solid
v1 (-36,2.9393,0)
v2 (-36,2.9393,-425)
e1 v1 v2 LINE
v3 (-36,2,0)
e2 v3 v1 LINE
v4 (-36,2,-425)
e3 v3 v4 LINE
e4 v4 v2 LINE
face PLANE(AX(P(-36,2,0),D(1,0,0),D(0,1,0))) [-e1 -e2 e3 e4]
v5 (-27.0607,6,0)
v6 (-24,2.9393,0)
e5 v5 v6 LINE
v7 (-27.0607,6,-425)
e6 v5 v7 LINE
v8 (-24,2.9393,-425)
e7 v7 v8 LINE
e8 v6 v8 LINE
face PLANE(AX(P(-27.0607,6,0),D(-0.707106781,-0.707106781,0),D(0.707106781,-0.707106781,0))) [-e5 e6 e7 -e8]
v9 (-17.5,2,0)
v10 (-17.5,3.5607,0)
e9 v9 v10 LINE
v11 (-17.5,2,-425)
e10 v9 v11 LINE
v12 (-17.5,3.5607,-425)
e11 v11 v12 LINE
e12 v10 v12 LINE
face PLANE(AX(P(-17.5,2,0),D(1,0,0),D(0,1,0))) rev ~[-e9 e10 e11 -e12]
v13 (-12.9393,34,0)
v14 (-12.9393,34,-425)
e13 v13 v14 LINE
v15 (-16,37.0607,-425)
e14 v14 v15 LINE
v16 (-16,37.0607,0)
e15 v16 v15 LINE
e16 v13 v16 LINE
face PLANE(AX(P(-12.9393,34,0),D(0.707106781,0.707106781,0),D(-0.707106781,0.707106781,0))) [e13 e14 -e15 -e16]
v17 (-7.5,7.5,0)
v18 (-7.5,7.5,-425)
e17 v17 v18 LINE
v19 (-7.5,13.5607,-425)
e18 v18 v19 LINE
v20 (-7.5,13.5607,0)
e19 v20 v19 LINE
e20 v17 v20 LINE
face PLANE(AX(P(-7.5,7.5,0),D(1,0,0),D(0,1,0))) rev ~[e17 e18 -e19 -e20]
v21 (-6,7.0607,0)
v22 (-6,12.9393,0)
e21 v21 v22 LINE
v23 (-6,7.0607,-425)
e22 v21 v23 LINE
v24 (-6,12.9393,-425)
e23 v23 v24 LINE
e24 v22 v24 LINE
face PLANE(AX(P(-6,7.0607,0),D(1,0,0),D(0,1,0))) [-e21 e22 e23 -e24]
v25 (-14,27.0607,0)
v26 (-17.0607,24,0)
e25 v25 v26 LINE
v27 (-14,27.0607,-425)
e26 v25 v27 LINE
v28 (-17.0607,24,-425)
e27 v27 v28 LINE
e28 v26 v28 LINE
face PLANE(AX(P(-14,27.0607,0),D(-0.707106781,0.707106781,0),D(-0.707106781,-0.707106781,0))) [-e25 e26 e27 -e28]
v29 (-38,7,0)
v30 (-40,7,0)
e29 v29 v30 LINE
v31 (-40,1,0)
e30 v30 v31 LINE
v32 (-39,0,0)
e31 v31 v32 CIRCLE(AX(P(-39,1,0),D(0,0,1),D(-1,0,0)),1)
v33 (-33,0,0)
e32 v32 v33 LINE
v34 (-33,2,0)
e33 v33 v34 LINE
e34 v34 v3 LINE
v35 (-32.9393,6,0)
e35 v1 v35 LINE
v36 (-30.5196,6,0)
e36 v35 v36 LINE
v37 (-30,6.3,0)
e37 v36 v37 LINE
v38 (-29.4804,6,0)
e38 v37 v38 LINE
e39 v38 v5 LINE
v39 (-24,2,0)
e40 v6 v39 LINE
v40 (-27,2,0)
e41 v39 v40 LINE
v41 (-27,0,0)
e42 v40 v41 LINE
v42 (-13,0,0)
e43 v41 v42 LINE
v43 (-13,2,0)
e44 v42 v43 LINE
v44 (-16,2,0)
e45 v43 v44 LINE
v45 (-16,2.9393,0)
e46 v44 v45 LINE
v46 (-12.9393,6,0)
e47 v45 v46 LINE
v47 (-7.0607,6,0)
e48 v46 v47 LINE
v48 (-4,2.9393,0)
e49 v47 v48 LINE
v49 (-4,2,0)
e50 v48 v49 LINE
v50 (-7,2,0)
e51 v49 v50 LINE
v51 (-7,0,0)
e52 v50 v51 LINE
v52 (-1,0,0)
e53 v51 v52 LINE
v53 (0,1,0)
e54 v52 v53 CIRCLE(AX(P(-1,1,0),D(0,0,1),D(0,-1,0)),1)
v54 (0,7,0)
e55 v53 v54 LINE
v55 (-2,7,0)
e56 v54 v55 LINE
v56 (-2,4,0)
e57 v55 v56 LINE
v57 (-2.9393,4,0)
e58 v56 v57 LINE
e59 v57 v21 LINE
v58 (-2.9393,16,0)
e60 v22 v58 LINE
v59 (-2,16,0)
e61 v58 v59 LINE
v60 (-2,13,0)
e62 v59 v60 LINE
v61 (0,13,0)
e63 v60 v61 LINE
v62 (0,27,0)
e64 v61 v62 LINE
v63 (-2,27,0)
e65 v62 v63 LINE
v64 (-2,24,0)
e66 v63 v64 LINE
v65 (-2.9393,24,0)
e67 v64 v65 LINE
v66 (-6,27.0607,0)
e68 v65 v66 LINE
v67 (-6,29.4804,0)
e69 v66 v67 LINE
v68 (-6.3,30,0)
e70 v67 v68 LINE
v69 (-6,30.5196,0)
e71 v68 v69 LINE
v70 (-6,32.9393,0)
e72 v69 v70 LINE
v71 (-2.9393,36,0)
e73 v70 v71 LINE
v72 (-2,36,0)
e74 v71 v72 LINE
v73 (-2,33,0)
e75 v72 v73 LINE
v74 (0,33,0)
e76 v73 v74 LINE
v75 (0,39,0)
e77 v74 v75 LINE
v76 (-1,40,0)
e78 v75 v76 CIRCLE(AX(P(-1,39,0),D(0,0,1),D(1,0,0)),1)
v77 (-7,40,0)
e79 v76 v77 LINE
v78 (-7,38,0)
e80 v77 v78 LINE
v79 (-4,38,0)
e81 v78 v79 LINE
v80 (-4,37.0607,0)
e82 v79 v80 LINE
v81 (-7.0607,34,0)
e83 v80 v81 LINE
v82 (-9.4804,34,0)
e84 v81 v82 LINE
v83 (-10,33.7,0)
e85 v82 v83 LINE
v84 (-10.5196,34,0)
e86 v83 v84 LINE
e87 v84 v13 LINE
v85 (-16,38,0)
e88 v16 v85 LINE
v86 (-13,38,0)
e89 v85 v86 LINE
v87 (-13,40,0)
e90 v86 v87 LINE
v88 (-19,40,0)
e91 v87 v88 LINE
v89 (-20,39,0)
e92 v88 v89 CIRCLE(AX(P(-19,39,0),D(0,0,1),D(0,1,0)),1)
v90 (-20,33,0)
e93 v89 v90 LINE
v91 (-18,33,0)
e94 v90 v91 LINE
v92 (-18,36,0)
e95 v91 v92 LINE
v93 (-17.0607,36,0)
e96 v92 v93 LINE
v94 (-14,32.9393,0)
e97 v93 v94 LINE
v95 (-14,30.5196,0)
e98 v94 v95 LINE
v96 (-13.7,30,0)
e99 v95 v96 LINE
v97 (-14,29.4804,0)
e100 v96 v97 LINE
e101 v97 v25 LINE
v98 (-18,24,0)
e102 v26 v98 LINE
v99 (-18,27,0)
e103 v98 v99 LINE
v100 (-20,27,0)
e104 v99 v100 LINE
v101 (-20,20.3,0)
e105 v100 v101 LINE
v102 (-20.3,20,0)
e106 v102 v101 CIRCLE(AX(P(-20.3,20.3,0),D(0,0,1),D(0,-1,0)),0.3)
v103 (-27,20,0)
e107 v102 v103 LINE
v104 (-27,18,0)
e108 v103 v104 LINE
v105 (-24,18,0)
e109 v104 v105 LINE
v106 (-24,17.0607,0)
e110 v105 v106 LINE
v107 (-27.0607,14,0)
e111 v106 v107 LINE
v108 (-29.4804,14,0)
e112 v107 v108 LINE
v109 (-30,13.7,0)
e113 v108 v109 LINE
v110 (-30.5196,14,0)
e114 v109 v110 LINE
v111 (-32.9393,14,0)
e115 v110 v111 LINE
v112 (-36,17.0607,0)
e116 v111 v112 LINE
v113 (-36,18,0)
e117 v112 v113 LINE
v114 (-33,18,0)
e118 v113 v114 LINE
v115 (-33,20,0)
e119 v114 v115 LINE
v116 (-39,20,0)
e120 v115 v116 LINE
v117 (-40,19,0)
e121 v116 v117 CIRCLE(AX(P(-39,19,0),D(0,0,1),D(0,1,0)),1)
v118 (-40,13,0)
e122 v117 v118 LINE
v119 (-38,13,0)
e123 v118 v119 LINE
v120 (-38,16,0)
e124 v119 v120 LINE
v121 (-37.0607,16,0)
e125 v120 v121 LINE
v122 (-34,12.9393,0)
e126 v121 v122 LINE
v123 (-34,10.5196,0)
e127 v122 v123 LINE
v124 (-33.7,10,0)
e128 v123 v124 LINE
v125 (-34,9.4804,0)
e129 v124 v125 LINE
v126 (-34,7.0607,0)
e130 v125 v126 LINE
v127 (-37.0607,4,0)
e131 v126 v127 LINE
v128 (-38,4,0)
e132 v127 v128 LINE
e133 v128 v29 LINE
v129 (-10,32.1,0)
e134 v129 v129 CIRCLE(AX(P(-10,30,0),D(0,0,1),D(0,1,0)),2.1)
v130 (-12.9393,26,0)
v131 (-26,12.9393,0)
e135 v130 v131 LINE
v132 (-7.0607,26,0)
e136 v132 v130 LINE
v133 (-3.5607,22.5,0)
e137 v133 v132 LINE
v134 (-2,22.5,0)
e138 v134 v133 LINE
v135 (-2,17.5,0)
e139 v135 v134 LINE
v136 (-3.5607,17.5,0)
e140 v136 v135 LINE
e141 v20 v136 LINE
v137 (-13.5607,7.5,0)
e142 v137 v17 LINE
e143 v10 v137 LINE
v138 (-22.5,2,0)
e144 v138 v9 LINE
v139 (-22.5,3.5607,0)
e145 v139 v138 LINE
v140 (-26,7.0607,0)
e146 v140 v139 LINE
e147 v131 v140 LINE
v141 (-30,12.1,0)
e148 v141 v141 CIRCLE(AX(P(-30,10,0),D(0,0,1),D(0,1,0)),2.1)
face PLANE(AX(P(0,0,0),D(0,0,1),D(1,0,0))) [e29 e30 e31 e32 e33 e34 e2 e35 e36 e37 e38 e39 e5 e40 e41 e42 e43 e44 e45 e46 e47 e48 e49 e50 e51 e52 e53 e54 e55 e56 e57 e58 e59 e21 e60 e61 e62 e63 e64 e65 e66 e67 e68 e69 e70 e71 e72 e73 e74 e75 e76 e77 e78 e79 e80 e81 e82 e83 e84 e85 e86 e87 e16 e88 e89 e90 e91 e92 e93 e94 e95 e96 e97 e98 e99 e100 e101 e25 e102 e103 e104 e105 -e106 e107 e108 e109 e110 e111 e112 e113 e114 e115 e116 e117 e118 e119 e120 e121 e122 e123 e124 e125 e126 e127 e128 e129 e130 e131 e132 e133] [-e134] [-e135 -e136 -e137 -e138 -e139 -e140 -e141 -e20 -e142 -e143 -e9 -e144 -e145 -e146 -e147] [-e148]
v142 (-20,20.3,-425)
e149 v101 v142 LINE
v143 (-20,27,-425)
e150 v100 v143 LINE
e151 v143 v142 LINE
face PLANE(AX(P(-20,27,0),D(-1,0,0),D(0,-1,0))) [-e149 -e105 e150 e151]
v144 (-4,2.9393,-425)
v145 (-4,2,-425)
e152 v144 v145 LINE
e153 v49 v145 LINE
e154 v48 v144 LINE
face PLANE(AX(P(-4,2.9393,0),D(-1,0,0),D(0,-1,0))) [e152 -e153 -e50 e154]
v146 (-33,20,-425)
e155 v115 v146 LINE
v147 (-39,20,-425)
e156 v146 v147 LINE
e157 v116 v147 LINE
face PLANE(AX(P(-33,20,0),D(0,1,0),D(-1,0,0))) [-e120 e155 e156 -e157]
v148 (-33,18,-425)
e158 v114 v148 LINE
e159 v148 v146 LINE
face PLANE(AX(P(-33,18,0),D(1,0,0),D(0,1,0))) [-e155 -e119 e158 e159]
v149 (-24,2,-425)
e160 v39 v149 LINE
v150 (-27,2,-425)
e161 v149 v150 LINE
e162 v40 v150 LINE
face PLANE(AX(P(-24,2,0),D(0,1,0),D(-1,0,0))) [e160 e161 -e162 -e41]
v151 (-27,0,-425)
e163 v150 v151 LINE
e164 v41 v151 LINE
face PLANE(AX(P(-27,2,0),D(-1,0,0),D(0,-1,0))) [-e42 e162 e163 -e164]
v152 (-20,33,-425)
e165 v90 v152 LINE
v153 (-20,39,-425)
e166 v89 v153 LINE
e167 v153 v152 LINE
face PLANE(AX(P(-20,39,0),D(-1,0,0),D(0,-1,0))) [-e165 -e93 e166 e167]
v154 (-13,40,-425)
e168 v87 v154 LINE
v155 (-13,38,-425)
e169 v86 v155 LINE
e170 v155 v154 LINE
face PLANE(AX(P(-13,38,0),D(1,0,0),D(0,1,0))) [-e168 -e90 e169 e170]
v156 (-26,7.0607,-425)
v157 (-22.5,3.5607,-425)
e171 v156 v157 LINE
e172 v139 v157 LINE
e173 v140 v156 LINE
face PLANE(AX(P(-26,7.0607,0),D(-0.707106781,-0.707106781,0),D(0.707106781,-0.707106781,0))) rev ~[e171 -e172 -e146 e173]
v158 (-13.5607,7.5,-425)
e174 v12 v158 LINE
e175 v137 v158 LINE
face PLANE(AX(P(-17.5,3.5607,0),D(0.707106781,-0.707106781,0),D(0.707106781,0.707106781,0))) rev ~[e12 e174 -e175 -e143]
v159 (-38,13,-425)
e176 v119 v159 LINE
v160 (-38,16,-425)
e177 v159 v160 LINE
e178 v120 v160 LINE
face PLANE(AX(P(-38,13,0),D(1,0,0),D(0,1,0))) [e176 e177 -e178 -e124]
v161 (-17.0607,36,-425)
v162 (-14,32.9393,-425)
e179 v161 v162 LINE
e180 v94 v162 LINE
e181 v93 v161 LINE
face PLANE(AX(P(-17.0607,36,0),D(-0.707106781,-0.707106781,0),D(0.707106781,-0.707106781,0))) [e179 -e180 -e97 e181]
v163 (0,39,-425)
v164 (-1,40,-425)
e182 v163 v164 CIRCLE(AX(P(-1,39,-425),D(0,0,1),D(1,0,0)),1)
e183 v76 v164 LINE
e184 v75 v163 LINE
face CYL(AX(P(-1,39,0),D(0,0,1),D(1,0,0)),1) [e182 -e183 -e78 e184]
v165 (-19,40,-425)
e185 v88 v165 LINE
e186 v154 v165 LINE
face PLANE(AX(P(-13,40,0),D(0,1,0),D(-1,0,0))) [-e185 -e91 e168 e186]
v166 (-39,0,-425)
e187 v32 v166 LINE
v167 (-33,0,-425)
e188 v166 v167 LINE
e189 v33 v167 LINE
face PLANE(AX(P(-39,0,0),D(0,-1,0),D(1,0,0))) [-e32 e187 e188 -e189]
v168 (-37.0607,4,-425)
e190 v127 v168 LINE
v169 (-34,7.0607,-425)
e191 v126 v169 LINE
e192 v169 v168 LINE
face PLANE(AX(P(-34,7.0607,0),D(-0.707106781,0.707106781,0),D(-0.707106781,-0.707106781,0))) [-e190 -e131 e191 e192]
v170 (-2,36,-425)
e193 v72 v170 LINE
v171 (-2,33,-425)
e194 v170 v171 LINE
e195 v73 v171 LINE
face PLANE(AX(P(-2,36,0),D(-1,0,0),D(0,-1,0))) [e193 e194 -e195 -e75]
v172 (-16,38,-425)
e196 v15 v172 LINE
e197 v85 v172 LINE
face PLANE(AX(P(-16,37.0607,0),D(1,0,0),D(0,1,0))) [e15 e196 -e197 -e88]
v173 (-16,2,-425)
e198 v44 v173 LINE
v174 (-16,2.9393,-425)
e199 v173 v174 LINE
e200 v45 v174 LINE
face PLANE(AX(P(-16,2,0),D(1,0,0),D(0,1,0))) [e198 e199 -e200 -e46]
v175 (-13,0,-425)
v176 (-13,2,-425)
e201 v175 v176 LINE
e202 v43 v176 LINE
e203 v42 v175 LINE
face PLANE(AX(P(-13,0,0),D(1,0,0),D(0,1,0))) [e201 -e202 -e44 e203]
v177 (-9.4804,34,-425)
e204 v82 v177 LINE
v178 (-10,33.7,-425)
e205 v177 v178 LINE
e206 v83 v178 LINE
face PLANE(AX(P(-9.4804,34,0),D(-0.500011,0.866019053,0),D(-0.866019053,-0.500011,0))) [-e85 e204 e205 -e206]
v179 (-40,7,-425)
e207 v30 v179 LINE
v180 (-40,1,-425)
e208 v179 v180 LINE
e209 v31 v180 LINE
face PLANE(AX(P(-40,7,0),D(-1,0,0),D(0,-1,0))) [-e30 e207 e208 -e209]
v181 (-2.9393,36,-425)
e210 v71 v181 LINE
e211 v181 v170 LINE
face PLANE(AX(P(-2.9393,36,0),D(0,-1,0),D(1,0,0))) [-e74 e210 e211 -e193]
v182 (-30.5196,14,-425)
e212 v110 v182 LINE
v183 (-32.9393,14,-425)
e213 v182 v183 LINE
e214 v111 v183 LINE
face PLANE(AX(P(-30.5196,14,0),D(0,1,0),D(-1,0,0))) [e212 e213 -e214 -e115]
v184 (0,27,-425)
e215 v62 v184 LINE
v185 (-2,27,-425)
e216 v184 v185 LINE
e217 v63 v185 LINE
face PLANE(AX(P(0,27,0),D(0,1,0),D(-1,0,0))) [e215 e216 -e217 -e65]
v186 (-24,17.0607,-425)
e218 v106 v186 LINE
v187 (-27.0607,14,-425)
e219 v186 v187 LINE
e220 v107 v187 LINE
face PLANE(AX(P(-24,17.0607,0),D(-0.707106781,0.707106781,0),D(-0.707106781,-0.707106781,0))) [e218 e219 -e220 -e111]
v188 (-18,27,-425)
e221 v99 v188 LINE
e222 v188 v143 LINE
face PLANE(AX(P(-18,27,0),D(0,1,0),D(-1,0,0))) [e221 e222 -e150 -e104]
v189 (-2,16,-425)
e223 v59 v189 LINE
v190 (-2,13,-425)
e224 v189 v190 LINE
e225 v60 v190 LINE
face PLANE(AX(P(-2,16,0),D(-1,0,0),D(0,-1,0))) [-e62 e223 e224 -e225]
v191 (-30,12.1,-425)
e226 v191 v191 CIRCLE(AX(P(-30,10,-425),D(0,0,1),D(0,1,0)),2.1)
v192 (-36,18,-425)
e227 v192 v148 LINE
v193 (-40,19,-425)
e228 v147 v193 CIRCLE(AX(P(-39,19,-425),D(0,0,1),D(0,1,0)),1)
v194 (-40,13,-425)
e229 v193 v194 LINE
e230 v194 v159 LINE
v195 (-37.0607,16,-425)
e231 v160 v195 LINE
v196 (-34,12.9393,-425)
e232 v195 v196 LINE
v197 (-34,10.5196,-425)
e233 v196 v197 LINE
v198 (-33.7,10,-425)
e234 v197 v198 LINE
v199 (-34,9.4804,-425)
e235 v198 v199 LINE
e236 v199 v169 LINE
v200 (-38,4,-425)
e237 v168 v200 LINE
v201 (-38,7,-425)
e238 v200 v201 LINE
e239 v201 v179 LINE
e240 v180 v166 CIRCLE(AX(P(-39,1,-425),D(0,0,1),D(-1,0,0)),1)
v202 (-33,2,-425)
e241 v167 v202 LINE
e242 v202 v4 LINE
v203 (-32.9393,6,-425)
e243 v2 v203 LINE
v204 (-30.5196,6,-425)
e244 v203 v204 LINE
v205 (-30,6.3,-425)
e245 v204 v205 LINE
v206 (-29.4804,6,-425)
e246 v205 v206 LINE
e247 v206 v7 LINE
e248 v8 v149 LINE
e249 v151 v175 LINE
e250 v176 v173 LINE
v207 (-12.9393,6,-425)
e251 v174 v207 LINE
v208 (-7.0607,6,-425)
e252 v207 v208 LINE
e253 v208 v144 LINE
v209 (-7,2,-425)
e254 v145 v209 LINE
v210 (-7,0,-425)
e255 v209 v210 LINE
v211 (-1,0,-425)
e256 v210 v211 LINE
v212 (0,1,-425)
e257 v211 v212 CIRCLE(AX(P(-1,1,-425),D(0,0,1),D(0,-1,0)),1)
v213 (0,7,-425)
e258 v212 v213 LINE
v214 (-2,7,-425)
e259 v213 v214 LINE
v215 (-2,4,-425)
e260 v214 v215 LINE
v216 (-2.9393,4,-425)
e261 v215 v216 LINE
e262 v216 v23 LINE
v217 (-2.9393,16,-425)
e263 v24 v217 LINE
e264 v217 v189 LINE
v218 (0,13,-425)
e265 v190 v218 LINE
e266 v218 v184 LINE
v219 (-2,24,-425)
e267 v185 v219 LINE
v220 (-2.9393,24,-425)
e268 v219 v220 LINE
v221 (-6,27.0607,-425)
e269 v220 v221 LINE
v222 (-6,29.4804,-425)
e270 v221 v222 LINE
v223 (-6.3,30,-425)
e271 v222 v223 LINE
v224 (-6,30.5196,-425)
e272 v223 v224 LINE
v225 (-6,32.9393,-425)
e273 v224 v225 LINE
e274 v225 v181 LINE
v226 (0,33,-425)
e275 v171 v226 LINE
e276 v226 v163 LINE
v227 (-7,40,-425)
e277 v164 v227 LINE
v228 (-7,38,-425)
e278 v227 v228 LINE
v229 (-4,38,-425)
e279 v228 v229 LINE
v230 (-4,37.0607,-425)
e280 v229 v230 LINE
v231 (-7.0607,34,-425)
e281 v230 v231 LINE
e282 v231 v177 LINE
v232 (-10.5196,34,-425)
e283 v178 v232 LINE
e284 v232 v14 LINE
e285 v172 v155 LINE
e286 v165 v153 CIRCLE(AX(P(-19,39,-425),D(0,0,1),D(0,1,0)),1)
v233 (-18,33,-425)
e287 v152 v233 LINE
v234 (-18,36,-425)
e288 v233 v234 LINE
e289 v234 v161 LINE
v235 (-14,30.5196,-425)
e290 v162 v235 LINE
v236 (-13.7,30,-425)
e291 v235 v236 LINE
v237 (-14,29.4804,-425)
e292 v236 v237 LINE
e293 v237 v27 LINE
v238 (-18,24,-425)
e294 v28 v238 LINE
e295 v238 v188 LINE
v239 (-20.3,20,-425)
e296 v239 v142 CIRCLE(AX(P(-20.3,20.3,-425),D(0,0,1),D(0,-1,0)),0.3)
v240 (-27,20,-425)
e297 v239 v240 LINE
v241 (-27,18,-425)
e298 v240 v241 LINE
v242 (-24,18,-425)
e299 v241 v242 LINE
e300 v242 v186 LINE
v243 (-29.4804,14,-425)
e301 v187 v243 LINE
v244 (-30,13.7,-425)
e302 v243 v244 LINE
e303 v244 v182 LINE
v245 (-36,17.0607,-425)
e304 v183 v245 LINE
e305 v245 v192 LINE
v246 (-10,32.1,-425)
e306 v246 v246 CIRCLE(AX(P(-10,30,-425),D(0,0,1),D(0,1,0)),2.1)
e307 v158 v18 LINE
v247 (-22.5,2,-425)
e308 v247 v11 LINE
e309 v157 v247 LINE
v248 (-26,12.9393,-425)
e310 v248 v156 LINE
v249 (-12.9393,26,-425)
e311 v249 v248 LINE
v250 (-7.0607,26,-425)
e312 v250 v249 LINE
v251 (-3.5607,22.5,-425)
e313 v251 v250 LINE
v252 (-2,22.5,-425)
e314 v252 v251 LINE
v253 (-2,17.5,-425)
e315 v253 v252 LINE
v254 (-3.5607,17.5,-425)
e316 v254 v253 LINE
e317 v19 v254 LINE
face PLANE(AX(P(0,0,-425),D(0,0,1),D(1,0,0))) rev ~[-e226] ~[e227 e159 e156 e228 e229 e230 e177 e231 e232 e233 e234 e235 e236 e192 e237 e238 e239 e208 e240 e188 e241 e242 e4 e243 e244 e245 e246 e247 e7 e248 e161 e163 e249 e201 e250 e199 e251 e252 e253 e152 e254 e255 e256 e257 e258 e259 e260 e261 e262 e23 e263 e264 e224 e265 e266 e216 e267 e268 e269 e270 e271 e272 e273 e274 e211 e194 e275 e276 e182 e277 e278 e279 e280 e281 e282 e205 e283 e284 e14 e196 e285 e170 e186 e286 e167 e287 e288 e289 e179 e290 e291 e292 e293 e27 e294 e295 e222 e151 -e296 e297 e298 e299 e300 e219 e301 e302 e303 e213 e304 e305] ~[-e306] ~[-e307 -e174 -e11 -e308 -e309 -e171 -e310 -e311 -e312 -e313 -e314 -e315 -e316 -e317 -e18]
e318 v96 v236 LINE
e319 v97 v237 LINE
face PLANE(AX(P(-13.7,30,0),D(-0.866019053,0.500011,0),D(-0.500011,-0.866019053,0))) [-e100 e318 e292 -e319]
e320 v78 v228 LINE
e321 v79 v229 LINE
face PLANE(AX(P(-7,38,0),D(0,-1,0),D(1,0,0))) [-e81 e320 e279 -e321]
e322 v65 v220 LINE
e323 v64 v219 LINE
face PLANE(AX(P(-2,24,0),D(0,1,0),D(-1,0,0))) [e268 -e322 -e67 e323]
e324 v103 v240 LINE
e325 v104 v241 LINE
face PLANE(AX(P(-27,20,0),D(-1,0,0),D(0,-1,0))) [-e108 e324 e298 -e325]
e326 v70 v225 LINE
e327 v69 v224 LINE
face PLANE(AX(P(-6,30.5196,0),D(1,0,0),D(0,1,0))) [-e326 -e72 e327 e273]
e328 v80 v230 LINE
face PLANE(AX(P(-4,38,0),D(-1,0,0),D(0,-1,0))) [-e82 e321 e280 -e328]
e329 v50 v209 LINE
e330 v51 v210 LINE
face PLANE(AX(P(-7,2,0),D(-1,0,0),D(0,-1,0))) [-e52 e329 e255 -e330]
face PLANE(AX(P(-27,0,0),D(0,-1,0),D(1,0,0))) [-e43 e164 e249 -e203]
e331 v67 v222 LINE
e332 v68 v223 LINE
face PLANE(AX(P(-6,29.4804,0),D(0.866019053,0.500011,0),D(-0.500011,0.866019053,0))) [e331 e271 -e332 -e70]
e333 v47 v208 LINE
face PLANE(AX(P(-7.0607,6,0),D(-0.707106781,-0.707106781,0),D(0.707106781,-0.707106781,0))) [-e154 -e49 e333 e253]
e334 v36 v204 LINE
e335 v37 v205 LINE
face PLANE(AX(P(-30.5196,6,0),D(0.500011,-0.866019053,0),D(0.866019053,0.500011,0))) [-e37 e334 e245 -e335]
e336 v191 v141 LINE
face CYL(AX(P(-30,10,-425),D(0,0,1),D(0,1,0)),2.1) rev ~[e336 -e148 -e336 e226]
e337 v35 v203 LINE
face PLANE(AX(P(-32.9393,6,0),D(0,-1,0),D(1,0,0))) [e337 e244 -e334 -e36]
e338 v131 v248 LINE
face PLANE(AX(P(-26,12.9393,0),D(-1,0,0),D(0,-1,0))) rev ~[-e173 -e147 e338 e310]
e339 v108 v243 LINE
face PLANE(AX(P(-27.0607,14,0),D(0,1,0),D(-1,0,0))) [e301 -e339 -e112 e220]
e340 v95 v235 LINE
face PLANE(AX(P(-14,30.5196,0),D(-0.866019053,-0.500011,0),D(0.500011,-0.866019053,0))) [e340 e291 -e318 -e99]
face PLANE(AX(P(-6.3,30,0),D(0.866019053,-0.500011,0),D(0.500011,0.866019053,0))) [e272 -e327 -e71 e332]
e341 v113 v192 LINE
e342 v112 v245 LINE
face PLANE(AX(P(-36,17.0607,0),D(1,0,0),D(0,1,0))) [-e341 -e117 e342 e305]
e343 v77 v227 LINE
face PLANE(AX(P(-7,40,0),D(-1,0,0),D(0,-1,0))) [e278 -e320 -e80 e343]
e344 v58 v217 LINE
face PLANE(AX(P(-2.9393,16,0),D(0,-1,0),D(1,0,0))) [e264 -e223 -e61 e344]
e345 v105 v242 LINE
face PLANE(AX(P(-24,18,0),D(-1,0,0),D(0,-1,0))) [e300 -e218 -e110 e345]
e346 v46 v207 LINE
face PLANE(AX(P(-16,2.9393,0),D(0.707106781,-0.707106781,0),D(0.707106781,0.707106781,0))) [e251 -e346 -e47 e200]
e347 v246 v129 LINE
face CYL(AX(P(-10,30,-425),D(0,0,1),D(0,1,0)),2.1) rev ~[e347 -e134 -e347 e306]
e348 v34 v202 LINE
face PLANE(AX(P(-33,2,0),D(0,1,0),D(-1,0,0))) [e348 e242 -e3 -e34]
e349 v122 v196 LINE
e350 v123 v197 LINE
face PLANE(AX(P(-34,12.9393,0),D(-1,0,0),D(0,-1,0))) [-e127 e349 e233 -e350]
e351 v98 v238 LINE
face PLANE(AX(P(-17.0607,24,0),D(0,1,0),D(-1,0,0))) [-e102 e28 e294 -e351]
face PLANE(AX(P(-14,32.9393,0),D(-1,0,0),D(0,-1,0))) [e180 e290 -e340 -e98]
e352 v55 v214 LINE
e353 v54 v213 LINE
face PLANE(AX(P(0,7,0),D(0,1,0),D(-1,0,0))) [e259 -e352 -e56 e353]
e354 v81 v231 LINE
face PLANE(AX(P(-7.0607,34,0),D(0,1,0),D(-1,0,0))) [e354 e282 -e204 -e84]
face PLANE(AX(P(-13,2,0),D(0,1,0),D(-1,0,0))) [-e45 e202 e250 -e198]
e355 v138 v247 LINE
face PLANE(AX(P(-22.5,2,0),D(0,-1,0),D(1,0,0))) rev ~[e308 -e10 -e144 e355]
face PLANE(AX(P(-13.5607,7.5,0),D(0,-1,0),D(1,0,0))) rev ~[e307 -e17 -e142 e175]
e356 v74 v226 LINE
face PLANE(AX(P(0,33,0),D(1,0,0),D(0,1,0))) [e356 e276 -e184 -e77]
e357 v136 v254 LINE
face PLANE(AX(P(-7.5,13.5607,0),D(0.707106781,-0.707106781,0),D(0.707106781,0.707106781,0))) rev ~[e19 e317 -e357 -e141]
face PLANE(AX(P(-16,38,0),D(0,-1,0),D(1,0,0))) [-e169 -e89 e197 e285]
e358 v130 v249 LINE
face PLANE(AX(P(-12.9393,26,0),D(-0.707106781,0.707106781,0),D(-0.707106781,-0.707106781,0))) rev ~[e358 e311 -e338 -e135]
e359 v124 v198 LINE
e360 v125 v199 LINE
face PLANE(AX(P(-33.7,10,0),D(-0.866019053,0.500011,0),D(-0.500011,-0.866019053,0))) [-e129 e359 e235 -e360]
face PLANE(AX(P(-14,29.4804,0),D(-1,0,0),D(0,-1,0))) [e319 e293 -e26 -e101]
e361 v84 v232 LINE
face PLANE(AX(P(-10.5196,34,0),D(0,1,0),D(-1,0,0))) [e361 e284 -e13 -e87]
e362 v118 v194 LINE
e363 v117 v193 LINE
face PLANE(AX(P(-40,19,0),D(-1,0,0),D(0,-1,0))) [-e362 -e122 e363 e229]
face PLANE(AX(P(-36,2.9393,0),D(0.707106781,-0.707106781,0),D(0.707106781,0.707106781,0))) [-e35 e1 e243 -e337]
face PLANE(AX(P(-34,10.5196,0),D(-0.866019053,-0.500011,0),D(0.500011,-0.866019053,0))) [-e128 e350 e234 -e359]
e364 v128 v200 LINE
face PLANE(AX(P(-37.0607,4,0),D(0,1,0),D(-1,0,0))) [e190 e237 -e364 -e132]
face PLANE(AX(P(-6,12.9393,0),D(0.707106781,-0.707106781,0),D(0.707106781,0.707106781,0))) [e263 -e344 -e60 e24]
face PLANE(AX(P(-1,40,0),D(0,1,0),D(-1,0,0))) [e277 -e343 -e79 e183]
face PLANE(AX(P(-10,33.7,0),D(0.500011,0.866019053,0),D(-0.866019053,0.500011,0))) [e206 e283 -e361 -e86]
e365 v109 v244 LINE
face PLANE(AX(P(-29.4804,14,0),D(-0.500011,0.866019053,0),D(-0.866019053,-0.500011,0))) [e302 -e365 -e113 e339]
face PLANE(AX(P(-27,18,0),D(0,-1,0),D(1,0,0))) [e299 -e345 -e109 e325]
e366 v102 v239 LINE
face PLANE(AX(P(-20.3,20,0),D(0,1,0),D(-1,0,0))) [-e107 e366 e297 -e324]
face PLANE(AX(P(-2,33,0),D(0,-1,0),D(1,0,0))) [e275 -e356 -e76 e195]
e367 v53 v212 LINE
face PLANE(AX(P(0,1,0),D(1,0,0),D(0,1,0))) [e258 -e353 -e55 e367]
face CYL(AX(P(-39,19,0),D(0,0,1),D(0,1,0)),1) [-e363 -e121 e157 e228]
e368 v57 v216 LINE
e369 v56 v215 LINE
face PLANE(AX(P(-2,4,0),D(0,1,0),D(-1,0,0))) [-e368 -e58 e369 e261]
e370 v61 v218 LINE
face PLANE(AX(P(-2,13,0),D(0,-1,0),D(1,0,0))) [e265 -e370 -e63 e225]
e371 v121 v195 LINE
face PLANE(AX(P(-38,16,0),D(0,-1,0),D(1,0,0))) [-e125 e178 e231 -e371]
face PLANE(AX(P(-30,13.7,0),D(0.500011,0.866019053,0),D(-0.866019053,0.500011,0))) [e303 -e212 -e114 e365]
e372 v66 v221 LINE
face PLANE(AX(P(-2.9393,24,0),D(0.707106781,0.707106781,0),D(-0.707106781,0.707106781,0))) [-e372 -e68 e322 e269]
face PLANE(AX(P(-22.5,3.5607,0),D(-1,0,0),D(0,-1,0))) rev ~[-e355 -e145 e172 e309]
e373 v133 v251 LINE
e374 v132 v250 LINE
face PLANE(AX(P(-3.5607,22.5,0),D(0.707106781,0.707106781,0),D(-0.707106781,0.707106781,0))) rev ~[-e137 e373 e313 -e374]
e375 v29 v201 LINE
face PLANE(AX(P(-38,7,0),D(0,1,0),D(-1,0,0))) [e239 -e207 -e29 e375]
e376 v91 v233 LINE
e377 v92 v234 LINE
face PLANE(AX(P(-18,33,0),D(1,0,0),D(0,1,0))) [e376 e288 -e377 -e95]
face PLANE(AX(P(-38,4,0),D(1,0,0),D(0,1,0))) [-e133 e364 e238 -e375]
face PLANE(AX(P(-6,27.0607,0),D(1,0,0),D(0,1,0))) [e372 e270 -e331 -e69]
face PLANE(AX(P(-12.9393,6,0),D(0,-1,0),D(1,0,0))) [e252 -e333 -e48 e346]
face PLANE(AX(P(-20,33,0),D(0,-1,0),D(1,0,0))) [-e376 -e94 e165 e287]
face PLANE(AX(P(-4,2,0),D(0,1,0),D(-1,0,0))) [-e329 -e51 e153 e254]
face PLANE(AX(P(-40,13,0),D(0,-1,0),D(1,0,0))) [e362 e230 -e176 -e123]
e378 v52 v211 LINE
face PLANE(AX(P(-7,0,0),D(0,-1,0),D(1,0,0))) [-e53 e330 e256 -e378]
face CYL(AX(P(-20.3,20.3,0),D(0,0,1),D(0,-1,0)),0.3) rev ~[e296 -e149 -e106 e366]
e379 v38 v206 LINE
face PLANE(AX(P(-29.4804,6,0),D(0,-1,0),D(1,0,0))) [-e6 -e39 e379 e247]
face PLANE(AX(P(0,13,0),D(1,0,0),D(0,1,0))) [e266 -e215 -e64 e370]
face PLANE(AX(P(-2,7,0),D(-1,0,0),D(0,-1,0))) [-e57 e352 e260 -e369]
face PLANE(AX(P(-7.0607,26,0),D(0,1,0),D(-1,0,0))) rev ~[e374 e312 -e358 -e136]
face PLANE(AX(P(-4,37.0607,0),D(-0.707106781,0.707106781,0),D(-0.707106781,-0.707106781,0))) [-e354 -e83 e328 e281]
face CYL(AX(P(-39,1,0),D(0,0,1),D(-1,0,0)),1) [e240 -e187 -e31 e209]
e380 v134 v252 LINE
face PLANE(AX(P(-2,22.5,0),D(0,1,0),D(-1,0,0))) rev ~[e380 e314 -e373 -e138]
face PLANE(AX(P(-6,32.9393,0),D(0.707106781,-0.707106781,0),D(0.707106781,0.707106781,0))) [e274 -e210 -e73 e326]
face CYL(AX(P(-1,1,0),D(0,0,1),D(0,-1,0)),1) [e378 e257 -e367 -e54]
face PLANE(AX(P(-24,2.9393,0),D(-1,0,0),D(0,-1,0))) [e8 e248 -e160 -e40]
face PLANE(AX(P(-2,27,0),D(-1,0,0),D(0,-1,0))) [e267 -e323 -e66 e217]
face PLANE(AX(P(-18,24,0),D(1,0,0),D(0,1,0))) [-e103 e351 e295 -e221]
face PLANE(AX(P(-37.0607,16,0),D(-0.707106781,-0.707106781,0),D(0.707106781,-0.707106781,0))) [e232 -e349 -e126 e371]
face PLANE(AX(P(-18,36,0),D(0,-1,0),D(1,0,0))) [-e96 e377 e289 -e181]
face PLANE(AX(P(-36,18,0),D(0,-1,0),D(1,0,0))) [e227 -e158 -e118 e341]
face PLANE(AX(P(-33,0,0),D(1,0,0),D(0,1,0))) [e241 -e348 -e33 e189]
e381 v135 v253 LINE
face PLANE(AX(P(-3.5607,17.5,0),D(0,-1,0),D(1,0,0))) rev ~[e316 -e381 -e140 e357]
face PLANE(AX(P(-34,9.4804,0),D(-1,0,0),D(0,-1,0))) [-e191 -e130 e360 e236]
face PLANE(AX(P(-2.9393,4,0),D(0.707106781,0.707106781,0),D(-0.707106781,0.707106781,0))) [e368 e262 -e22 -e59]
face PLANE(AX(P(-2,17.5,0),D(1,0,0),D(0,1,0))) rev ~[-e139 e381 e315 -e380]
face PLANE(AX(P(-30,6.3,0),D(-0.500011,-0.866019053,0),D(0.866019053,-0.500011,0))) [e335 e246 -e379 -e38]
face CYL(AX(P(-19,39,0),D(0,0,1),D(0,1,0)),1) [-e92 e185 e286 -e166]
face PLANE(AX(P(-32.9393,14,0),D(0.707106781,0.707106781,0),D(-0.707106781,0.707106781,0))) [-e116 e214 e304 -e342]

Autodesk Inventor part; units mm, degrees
ref_plane "YZ Plane" through (0, 0, 0) normal (1, 0, 0) x (0, 1, 0)
ref_plane "XZ Plane" through (0, 0, 0) normal (0, 1, 0) x (-1, 0, 0)
ref_plane "XY Plane" through (0, 0, 0) normal (0, 0, 1) x (1, 0, 0)
sketch "Sketch_1" plane through (0, 0, 0) normal (0, 0, 1) x (1, 0, 0)
  line L0 (-40, 19) -> (-40, 13)
  line L1 (-40, 13) -> (-38, 13)
  line L2 (-38, 13) -> (-38, 16)
  line L3 (-38, 16) -> (-37.0607, 16)
  line L4 (-37.0607, 16) -> (-34, 12.9393)
  line L5 (-34, 12.9393) -> (-34, 10.5196)
  line L6 (-34, 10.5196) -> (-33.7, 10)
  line L7 (-33.7, 10) -> (-34, 9.4804)
  line L8 (-34, 9.4804) -> (-34, 7.0607)
  line L9 (-34, 7.0607) -> (-37.0607, 4)
  line L10 (-37.0607, 4) -> (-38, 4)
  line L11 (-38, 4) -> (-38, 7)
  line L12 (-38, 7) -> (-40, 7)
  line L13 (-40, 7) -> (-40, 1)
  arc A0 (-40, 1) -> (-39, 0) centre (-39, 1) ccw
  line L14 (-39, 0) -> (-33, 0)
  line L15 (-33, 0) -> (-33, 2)
  line L16 (-33, 2) -> (-36, 2)
  line L17 (-36, 2) -> (-36, 2.9393)
  line L18 (-36, 2.9393) -> (-32.9393, 6)
  line L19 (-32.9393, 6) -> (-30.5196, 6)
  line L20 (-30.5196, 6) -> (-30, 6.3)
  line L21 (-30, 6.3) -> (-29.4804, 6)
  line L22 (-29.4804, 6) -> (-27.0607, 6)
  line L23 (-27.0607, 6) -> (-24, 2.9393)
  line L24 (-24, 2.9393) -> (-24, 2)
  line L25 (-24, 2) -> (-27, 2)
  line L26 (-27, 2) -> (-27, 0)
  line L27 (-27, 0) -> (-13, 0)
  line L28 (-13, 0) -> (-13, 2)
  line L29 (-13, 2) -> (-16, 2)
  line L30 (-16, 2) -> (-16, 2.9393)
  line L31 (-16, 2.9393) -> (-12.9393, 6)
  line L32 (-12.9393, 6) -> (-7.0607, 6)
  line L33 (-7.0607, 6) -> (-4, 2.9393)
  line L34 (-4, 2.9393) -> (-4, 2)
  line L35 (-4, 2) -> (-7, 2)
  line L36 (-7, 2) -> (-7, 0)
  line L37 (-7, 0) -> (-1, 0)
  arc A1 (-1, 0) -> (0, 1) centre (-1, 1) ccw
  line L38 (0, 1) -> (0, 7)
  line L39 (0, 7) -> (-2, 7)
  line L40 (-2, 7) -> (-2, 4)
  line L41 (-2, 4) -> (-2.9393, 4)
  line L42 (-2.9393, 4) -> (-6, 7.0607)
  line L43 (-6, 7.0607) -> (-6, 12.9393)
  line L44 (-6, 12.9393) -> (-2.9393, 16)
  line L45 (-2.9393, 16) -> (-2, 16)
  line L46 (-2, 16) -> (-2, 13)
  line L47 (-2, 13) -> (0, 13)
  line L48 (0, 13) -> (0, 27)
  line L49 (0, 27) -> (-2, 27)
  line L50 (-2, 27) -> (-2, 24)
  line L51 (-2, 24) -> (-2.9393, 24)
  line L52 (-2.9393, 24) -> (-6, 27.0607)
  line L53 (-6, 27.0607) -> (-6, 29.4804)
  line L54 (-6, 29.4804) -> (-6.3, 30)
  line L55 (-6.3, 30) -> (-6, 30.5196)
  line L56 (-6, 30.5196) -> (-6, 32.9393)
  line L57 (-6, 32.9393) -> (-2.9393, 36)
  line L58 (-2.9393, 36) -> (-2, 36)
  line L59 (-2, 36) -> (-2, 33)
  line L60 (-2, 33) -> (0, 33)
  line L61 (0, 33) -> (0, 39)
  arc A2 (0, 39) -> (-1, 40) centre (-1, 39) ccw
  line L62 (-1, 40) -> (-7, 40)
  line L63 (-7, 40) -> (-7, 38)
  line L64 (-7, 38) -> (-4, 38)
  line L65 (-4, 38) -> (-4, 37.0607)
  line L66 (-4, 37.0607) -> (-7.0607, 34)
  line L67 (-7.0607, 34) -> (-9.4804, 34)
  line L68 (-9.4804, 34) -> (-10, 33.7)
  line L69 (-10, 33.7) -> (-10.5196, 34)
  line L70 (-10.5196, 34) -> (-12.9393, 34)
  line L71 (-12.9393, 34) -> (-16, 37.0607)
  line L72 (-16, 37.0607) -> (-16, 38)
  line L73 (-16, 38) -> (-13, 38)
  line L74 (-13, 38) -> (-13, 40)
  line L75 (-13, 40) -> (-19, 40)
  arc A3 (-19, 40) -> (-20, 39) centre (-19, 39) ccw
  line L76 (-20, 39) -> (-20, 33)
  line L77 (-20, 33) -> (-18, 33)
  line L78 (-18, 33) -> (-18, 36)
  line L79 (-18, 36) -> (-17.0607, 36)
  line L80 (-17.0607, 36) -> (-14, 32.9393)
  line L81 (-14, 32.9393) -> (-14, 30.5196)
  line L82 (-14, 30.5196) -> (-13.7, 30)
  line L83 (-13.7, 30) -> (-14, 29.4804)
  line L84 (-14, 29.4804) -> (-14, 27.0607)
  line L85 (-14, 27.0607) -> (-17.0607, 24)
  line L86 (-17.0607, 24) -> (-18, 24)
  line L87 (-18, 24) -> (-18, 27)
  line L88 (-18, 27) -> (-20, 27)
  line L89 (-20, 27) -> (-20, 20.3)
  arc A4 (-20.3, 20) -> (-20, 20.3) centre (-20.3, 20.3) ccw
  line L90 (-20.3, 20) -> (-27, 20)
  line L91 (-27, 20) -> (-27, 18)
  line L92 (-27, 18) -> (-24, 18)
  line L93 (-24, 18) -> (-24, 17.0607)
  line L94 (-24, 17.0607) -> (-27.0607, 14)
  line L95 (-27.0607, 14) -> (-29.4804, 14)
  line L96 (-29.4804, 14) -> (-30, 13.7)
  line L97 (-30, 13.7) -> (-30.5196, 14)
  line L98 (-30.5196, 14) -> (-32.9393, 14)
  line L99 (-32.9393, 14) -> (-36, 17.0607)
  line L100 (-36, 17.0607) -> (-36, 18)
  line L101 (-36, 18) -> (-33, 18)
  line L102 (-33, 18) -> (-33, 20)
  line L103 (-33, 20) -> (-39, 20)
  arc A5 (-39, 20) -> (-40, 19) centre (-39, 19) ccw
  line L104 (-26, 7.0607) -> (-22.5, 3.5607)
  line L105 (-22.5, 3.5607) -> (-22.5, 2)
  line L106 (-22.5, 2) -> (-17.5, 2)
  line L107 (-17.5, 2) -> (-17.5, 3.5607)
  line L108 (-17.5, 3.5607) -> (-13.5607, 7.5)
  line L109 (-13.5607, 7.5) -> (-7.5, 7.5)
  line L110 (-7.5, 7.5) -> (-7.5, 13.5607)
  line L111 (-7.5, 13.5607) -> (-3.5607, 17.5)
  line L112 (-3.5607, 17.5) -> (-2, 17.5)
  line L113 (-2, 17.5) -> (-2, 22.5)
  line L114 (-2, 22.5) -> (-3.5607, 22.5)
  line L115 (-3.5607, 22.5) -> (-7.0607, 26)
  line L116 (-7.0607, 26) -> (-12.9393, 26)
  line L117 (-12.9393, 26) -> (-26, 12.9393)
  line L118 (-26, 12.9393) -> (-26, 7.0607)
extrude "Extrusion1" add sketch "Sketch_1" against normal blind 425
sketch "Sketch2" plane through (0, 0, -425) normal (0, 0, -1) x (-1, 0, 0)
  point P0 (10, 30)
hole "Hole1" at (-10, 30, -425) direction (0, 0, 1) diameter 4.2 end through all
sketch "Sketch3" plane through (0, 0, -425) normal (0, 0, -1) x (-1, 0, 0)
  point P0 (30, 10)
hole "Hole2" at (-30, 10, -425) direction (0, 0, 1) diameter 4.2 end through all
thread "Thread1" size "M5x0.8" class "6H" standard "ANSI Metric M Profile" length 10
thread "Thread2" size "M5x0.8" class "6H" standard "ANSI Metric M Profile" length 10
thread "Thread3" size "M5x0.8" class "6H" standard "ANSI Metric M Profile" length 10
thread "Thread4" size "M5x0.8" class "6H" standard "ANSI Metric M Profile" length 10
properties part number "HFS5-404020-425" material "Aluminum 6061"
